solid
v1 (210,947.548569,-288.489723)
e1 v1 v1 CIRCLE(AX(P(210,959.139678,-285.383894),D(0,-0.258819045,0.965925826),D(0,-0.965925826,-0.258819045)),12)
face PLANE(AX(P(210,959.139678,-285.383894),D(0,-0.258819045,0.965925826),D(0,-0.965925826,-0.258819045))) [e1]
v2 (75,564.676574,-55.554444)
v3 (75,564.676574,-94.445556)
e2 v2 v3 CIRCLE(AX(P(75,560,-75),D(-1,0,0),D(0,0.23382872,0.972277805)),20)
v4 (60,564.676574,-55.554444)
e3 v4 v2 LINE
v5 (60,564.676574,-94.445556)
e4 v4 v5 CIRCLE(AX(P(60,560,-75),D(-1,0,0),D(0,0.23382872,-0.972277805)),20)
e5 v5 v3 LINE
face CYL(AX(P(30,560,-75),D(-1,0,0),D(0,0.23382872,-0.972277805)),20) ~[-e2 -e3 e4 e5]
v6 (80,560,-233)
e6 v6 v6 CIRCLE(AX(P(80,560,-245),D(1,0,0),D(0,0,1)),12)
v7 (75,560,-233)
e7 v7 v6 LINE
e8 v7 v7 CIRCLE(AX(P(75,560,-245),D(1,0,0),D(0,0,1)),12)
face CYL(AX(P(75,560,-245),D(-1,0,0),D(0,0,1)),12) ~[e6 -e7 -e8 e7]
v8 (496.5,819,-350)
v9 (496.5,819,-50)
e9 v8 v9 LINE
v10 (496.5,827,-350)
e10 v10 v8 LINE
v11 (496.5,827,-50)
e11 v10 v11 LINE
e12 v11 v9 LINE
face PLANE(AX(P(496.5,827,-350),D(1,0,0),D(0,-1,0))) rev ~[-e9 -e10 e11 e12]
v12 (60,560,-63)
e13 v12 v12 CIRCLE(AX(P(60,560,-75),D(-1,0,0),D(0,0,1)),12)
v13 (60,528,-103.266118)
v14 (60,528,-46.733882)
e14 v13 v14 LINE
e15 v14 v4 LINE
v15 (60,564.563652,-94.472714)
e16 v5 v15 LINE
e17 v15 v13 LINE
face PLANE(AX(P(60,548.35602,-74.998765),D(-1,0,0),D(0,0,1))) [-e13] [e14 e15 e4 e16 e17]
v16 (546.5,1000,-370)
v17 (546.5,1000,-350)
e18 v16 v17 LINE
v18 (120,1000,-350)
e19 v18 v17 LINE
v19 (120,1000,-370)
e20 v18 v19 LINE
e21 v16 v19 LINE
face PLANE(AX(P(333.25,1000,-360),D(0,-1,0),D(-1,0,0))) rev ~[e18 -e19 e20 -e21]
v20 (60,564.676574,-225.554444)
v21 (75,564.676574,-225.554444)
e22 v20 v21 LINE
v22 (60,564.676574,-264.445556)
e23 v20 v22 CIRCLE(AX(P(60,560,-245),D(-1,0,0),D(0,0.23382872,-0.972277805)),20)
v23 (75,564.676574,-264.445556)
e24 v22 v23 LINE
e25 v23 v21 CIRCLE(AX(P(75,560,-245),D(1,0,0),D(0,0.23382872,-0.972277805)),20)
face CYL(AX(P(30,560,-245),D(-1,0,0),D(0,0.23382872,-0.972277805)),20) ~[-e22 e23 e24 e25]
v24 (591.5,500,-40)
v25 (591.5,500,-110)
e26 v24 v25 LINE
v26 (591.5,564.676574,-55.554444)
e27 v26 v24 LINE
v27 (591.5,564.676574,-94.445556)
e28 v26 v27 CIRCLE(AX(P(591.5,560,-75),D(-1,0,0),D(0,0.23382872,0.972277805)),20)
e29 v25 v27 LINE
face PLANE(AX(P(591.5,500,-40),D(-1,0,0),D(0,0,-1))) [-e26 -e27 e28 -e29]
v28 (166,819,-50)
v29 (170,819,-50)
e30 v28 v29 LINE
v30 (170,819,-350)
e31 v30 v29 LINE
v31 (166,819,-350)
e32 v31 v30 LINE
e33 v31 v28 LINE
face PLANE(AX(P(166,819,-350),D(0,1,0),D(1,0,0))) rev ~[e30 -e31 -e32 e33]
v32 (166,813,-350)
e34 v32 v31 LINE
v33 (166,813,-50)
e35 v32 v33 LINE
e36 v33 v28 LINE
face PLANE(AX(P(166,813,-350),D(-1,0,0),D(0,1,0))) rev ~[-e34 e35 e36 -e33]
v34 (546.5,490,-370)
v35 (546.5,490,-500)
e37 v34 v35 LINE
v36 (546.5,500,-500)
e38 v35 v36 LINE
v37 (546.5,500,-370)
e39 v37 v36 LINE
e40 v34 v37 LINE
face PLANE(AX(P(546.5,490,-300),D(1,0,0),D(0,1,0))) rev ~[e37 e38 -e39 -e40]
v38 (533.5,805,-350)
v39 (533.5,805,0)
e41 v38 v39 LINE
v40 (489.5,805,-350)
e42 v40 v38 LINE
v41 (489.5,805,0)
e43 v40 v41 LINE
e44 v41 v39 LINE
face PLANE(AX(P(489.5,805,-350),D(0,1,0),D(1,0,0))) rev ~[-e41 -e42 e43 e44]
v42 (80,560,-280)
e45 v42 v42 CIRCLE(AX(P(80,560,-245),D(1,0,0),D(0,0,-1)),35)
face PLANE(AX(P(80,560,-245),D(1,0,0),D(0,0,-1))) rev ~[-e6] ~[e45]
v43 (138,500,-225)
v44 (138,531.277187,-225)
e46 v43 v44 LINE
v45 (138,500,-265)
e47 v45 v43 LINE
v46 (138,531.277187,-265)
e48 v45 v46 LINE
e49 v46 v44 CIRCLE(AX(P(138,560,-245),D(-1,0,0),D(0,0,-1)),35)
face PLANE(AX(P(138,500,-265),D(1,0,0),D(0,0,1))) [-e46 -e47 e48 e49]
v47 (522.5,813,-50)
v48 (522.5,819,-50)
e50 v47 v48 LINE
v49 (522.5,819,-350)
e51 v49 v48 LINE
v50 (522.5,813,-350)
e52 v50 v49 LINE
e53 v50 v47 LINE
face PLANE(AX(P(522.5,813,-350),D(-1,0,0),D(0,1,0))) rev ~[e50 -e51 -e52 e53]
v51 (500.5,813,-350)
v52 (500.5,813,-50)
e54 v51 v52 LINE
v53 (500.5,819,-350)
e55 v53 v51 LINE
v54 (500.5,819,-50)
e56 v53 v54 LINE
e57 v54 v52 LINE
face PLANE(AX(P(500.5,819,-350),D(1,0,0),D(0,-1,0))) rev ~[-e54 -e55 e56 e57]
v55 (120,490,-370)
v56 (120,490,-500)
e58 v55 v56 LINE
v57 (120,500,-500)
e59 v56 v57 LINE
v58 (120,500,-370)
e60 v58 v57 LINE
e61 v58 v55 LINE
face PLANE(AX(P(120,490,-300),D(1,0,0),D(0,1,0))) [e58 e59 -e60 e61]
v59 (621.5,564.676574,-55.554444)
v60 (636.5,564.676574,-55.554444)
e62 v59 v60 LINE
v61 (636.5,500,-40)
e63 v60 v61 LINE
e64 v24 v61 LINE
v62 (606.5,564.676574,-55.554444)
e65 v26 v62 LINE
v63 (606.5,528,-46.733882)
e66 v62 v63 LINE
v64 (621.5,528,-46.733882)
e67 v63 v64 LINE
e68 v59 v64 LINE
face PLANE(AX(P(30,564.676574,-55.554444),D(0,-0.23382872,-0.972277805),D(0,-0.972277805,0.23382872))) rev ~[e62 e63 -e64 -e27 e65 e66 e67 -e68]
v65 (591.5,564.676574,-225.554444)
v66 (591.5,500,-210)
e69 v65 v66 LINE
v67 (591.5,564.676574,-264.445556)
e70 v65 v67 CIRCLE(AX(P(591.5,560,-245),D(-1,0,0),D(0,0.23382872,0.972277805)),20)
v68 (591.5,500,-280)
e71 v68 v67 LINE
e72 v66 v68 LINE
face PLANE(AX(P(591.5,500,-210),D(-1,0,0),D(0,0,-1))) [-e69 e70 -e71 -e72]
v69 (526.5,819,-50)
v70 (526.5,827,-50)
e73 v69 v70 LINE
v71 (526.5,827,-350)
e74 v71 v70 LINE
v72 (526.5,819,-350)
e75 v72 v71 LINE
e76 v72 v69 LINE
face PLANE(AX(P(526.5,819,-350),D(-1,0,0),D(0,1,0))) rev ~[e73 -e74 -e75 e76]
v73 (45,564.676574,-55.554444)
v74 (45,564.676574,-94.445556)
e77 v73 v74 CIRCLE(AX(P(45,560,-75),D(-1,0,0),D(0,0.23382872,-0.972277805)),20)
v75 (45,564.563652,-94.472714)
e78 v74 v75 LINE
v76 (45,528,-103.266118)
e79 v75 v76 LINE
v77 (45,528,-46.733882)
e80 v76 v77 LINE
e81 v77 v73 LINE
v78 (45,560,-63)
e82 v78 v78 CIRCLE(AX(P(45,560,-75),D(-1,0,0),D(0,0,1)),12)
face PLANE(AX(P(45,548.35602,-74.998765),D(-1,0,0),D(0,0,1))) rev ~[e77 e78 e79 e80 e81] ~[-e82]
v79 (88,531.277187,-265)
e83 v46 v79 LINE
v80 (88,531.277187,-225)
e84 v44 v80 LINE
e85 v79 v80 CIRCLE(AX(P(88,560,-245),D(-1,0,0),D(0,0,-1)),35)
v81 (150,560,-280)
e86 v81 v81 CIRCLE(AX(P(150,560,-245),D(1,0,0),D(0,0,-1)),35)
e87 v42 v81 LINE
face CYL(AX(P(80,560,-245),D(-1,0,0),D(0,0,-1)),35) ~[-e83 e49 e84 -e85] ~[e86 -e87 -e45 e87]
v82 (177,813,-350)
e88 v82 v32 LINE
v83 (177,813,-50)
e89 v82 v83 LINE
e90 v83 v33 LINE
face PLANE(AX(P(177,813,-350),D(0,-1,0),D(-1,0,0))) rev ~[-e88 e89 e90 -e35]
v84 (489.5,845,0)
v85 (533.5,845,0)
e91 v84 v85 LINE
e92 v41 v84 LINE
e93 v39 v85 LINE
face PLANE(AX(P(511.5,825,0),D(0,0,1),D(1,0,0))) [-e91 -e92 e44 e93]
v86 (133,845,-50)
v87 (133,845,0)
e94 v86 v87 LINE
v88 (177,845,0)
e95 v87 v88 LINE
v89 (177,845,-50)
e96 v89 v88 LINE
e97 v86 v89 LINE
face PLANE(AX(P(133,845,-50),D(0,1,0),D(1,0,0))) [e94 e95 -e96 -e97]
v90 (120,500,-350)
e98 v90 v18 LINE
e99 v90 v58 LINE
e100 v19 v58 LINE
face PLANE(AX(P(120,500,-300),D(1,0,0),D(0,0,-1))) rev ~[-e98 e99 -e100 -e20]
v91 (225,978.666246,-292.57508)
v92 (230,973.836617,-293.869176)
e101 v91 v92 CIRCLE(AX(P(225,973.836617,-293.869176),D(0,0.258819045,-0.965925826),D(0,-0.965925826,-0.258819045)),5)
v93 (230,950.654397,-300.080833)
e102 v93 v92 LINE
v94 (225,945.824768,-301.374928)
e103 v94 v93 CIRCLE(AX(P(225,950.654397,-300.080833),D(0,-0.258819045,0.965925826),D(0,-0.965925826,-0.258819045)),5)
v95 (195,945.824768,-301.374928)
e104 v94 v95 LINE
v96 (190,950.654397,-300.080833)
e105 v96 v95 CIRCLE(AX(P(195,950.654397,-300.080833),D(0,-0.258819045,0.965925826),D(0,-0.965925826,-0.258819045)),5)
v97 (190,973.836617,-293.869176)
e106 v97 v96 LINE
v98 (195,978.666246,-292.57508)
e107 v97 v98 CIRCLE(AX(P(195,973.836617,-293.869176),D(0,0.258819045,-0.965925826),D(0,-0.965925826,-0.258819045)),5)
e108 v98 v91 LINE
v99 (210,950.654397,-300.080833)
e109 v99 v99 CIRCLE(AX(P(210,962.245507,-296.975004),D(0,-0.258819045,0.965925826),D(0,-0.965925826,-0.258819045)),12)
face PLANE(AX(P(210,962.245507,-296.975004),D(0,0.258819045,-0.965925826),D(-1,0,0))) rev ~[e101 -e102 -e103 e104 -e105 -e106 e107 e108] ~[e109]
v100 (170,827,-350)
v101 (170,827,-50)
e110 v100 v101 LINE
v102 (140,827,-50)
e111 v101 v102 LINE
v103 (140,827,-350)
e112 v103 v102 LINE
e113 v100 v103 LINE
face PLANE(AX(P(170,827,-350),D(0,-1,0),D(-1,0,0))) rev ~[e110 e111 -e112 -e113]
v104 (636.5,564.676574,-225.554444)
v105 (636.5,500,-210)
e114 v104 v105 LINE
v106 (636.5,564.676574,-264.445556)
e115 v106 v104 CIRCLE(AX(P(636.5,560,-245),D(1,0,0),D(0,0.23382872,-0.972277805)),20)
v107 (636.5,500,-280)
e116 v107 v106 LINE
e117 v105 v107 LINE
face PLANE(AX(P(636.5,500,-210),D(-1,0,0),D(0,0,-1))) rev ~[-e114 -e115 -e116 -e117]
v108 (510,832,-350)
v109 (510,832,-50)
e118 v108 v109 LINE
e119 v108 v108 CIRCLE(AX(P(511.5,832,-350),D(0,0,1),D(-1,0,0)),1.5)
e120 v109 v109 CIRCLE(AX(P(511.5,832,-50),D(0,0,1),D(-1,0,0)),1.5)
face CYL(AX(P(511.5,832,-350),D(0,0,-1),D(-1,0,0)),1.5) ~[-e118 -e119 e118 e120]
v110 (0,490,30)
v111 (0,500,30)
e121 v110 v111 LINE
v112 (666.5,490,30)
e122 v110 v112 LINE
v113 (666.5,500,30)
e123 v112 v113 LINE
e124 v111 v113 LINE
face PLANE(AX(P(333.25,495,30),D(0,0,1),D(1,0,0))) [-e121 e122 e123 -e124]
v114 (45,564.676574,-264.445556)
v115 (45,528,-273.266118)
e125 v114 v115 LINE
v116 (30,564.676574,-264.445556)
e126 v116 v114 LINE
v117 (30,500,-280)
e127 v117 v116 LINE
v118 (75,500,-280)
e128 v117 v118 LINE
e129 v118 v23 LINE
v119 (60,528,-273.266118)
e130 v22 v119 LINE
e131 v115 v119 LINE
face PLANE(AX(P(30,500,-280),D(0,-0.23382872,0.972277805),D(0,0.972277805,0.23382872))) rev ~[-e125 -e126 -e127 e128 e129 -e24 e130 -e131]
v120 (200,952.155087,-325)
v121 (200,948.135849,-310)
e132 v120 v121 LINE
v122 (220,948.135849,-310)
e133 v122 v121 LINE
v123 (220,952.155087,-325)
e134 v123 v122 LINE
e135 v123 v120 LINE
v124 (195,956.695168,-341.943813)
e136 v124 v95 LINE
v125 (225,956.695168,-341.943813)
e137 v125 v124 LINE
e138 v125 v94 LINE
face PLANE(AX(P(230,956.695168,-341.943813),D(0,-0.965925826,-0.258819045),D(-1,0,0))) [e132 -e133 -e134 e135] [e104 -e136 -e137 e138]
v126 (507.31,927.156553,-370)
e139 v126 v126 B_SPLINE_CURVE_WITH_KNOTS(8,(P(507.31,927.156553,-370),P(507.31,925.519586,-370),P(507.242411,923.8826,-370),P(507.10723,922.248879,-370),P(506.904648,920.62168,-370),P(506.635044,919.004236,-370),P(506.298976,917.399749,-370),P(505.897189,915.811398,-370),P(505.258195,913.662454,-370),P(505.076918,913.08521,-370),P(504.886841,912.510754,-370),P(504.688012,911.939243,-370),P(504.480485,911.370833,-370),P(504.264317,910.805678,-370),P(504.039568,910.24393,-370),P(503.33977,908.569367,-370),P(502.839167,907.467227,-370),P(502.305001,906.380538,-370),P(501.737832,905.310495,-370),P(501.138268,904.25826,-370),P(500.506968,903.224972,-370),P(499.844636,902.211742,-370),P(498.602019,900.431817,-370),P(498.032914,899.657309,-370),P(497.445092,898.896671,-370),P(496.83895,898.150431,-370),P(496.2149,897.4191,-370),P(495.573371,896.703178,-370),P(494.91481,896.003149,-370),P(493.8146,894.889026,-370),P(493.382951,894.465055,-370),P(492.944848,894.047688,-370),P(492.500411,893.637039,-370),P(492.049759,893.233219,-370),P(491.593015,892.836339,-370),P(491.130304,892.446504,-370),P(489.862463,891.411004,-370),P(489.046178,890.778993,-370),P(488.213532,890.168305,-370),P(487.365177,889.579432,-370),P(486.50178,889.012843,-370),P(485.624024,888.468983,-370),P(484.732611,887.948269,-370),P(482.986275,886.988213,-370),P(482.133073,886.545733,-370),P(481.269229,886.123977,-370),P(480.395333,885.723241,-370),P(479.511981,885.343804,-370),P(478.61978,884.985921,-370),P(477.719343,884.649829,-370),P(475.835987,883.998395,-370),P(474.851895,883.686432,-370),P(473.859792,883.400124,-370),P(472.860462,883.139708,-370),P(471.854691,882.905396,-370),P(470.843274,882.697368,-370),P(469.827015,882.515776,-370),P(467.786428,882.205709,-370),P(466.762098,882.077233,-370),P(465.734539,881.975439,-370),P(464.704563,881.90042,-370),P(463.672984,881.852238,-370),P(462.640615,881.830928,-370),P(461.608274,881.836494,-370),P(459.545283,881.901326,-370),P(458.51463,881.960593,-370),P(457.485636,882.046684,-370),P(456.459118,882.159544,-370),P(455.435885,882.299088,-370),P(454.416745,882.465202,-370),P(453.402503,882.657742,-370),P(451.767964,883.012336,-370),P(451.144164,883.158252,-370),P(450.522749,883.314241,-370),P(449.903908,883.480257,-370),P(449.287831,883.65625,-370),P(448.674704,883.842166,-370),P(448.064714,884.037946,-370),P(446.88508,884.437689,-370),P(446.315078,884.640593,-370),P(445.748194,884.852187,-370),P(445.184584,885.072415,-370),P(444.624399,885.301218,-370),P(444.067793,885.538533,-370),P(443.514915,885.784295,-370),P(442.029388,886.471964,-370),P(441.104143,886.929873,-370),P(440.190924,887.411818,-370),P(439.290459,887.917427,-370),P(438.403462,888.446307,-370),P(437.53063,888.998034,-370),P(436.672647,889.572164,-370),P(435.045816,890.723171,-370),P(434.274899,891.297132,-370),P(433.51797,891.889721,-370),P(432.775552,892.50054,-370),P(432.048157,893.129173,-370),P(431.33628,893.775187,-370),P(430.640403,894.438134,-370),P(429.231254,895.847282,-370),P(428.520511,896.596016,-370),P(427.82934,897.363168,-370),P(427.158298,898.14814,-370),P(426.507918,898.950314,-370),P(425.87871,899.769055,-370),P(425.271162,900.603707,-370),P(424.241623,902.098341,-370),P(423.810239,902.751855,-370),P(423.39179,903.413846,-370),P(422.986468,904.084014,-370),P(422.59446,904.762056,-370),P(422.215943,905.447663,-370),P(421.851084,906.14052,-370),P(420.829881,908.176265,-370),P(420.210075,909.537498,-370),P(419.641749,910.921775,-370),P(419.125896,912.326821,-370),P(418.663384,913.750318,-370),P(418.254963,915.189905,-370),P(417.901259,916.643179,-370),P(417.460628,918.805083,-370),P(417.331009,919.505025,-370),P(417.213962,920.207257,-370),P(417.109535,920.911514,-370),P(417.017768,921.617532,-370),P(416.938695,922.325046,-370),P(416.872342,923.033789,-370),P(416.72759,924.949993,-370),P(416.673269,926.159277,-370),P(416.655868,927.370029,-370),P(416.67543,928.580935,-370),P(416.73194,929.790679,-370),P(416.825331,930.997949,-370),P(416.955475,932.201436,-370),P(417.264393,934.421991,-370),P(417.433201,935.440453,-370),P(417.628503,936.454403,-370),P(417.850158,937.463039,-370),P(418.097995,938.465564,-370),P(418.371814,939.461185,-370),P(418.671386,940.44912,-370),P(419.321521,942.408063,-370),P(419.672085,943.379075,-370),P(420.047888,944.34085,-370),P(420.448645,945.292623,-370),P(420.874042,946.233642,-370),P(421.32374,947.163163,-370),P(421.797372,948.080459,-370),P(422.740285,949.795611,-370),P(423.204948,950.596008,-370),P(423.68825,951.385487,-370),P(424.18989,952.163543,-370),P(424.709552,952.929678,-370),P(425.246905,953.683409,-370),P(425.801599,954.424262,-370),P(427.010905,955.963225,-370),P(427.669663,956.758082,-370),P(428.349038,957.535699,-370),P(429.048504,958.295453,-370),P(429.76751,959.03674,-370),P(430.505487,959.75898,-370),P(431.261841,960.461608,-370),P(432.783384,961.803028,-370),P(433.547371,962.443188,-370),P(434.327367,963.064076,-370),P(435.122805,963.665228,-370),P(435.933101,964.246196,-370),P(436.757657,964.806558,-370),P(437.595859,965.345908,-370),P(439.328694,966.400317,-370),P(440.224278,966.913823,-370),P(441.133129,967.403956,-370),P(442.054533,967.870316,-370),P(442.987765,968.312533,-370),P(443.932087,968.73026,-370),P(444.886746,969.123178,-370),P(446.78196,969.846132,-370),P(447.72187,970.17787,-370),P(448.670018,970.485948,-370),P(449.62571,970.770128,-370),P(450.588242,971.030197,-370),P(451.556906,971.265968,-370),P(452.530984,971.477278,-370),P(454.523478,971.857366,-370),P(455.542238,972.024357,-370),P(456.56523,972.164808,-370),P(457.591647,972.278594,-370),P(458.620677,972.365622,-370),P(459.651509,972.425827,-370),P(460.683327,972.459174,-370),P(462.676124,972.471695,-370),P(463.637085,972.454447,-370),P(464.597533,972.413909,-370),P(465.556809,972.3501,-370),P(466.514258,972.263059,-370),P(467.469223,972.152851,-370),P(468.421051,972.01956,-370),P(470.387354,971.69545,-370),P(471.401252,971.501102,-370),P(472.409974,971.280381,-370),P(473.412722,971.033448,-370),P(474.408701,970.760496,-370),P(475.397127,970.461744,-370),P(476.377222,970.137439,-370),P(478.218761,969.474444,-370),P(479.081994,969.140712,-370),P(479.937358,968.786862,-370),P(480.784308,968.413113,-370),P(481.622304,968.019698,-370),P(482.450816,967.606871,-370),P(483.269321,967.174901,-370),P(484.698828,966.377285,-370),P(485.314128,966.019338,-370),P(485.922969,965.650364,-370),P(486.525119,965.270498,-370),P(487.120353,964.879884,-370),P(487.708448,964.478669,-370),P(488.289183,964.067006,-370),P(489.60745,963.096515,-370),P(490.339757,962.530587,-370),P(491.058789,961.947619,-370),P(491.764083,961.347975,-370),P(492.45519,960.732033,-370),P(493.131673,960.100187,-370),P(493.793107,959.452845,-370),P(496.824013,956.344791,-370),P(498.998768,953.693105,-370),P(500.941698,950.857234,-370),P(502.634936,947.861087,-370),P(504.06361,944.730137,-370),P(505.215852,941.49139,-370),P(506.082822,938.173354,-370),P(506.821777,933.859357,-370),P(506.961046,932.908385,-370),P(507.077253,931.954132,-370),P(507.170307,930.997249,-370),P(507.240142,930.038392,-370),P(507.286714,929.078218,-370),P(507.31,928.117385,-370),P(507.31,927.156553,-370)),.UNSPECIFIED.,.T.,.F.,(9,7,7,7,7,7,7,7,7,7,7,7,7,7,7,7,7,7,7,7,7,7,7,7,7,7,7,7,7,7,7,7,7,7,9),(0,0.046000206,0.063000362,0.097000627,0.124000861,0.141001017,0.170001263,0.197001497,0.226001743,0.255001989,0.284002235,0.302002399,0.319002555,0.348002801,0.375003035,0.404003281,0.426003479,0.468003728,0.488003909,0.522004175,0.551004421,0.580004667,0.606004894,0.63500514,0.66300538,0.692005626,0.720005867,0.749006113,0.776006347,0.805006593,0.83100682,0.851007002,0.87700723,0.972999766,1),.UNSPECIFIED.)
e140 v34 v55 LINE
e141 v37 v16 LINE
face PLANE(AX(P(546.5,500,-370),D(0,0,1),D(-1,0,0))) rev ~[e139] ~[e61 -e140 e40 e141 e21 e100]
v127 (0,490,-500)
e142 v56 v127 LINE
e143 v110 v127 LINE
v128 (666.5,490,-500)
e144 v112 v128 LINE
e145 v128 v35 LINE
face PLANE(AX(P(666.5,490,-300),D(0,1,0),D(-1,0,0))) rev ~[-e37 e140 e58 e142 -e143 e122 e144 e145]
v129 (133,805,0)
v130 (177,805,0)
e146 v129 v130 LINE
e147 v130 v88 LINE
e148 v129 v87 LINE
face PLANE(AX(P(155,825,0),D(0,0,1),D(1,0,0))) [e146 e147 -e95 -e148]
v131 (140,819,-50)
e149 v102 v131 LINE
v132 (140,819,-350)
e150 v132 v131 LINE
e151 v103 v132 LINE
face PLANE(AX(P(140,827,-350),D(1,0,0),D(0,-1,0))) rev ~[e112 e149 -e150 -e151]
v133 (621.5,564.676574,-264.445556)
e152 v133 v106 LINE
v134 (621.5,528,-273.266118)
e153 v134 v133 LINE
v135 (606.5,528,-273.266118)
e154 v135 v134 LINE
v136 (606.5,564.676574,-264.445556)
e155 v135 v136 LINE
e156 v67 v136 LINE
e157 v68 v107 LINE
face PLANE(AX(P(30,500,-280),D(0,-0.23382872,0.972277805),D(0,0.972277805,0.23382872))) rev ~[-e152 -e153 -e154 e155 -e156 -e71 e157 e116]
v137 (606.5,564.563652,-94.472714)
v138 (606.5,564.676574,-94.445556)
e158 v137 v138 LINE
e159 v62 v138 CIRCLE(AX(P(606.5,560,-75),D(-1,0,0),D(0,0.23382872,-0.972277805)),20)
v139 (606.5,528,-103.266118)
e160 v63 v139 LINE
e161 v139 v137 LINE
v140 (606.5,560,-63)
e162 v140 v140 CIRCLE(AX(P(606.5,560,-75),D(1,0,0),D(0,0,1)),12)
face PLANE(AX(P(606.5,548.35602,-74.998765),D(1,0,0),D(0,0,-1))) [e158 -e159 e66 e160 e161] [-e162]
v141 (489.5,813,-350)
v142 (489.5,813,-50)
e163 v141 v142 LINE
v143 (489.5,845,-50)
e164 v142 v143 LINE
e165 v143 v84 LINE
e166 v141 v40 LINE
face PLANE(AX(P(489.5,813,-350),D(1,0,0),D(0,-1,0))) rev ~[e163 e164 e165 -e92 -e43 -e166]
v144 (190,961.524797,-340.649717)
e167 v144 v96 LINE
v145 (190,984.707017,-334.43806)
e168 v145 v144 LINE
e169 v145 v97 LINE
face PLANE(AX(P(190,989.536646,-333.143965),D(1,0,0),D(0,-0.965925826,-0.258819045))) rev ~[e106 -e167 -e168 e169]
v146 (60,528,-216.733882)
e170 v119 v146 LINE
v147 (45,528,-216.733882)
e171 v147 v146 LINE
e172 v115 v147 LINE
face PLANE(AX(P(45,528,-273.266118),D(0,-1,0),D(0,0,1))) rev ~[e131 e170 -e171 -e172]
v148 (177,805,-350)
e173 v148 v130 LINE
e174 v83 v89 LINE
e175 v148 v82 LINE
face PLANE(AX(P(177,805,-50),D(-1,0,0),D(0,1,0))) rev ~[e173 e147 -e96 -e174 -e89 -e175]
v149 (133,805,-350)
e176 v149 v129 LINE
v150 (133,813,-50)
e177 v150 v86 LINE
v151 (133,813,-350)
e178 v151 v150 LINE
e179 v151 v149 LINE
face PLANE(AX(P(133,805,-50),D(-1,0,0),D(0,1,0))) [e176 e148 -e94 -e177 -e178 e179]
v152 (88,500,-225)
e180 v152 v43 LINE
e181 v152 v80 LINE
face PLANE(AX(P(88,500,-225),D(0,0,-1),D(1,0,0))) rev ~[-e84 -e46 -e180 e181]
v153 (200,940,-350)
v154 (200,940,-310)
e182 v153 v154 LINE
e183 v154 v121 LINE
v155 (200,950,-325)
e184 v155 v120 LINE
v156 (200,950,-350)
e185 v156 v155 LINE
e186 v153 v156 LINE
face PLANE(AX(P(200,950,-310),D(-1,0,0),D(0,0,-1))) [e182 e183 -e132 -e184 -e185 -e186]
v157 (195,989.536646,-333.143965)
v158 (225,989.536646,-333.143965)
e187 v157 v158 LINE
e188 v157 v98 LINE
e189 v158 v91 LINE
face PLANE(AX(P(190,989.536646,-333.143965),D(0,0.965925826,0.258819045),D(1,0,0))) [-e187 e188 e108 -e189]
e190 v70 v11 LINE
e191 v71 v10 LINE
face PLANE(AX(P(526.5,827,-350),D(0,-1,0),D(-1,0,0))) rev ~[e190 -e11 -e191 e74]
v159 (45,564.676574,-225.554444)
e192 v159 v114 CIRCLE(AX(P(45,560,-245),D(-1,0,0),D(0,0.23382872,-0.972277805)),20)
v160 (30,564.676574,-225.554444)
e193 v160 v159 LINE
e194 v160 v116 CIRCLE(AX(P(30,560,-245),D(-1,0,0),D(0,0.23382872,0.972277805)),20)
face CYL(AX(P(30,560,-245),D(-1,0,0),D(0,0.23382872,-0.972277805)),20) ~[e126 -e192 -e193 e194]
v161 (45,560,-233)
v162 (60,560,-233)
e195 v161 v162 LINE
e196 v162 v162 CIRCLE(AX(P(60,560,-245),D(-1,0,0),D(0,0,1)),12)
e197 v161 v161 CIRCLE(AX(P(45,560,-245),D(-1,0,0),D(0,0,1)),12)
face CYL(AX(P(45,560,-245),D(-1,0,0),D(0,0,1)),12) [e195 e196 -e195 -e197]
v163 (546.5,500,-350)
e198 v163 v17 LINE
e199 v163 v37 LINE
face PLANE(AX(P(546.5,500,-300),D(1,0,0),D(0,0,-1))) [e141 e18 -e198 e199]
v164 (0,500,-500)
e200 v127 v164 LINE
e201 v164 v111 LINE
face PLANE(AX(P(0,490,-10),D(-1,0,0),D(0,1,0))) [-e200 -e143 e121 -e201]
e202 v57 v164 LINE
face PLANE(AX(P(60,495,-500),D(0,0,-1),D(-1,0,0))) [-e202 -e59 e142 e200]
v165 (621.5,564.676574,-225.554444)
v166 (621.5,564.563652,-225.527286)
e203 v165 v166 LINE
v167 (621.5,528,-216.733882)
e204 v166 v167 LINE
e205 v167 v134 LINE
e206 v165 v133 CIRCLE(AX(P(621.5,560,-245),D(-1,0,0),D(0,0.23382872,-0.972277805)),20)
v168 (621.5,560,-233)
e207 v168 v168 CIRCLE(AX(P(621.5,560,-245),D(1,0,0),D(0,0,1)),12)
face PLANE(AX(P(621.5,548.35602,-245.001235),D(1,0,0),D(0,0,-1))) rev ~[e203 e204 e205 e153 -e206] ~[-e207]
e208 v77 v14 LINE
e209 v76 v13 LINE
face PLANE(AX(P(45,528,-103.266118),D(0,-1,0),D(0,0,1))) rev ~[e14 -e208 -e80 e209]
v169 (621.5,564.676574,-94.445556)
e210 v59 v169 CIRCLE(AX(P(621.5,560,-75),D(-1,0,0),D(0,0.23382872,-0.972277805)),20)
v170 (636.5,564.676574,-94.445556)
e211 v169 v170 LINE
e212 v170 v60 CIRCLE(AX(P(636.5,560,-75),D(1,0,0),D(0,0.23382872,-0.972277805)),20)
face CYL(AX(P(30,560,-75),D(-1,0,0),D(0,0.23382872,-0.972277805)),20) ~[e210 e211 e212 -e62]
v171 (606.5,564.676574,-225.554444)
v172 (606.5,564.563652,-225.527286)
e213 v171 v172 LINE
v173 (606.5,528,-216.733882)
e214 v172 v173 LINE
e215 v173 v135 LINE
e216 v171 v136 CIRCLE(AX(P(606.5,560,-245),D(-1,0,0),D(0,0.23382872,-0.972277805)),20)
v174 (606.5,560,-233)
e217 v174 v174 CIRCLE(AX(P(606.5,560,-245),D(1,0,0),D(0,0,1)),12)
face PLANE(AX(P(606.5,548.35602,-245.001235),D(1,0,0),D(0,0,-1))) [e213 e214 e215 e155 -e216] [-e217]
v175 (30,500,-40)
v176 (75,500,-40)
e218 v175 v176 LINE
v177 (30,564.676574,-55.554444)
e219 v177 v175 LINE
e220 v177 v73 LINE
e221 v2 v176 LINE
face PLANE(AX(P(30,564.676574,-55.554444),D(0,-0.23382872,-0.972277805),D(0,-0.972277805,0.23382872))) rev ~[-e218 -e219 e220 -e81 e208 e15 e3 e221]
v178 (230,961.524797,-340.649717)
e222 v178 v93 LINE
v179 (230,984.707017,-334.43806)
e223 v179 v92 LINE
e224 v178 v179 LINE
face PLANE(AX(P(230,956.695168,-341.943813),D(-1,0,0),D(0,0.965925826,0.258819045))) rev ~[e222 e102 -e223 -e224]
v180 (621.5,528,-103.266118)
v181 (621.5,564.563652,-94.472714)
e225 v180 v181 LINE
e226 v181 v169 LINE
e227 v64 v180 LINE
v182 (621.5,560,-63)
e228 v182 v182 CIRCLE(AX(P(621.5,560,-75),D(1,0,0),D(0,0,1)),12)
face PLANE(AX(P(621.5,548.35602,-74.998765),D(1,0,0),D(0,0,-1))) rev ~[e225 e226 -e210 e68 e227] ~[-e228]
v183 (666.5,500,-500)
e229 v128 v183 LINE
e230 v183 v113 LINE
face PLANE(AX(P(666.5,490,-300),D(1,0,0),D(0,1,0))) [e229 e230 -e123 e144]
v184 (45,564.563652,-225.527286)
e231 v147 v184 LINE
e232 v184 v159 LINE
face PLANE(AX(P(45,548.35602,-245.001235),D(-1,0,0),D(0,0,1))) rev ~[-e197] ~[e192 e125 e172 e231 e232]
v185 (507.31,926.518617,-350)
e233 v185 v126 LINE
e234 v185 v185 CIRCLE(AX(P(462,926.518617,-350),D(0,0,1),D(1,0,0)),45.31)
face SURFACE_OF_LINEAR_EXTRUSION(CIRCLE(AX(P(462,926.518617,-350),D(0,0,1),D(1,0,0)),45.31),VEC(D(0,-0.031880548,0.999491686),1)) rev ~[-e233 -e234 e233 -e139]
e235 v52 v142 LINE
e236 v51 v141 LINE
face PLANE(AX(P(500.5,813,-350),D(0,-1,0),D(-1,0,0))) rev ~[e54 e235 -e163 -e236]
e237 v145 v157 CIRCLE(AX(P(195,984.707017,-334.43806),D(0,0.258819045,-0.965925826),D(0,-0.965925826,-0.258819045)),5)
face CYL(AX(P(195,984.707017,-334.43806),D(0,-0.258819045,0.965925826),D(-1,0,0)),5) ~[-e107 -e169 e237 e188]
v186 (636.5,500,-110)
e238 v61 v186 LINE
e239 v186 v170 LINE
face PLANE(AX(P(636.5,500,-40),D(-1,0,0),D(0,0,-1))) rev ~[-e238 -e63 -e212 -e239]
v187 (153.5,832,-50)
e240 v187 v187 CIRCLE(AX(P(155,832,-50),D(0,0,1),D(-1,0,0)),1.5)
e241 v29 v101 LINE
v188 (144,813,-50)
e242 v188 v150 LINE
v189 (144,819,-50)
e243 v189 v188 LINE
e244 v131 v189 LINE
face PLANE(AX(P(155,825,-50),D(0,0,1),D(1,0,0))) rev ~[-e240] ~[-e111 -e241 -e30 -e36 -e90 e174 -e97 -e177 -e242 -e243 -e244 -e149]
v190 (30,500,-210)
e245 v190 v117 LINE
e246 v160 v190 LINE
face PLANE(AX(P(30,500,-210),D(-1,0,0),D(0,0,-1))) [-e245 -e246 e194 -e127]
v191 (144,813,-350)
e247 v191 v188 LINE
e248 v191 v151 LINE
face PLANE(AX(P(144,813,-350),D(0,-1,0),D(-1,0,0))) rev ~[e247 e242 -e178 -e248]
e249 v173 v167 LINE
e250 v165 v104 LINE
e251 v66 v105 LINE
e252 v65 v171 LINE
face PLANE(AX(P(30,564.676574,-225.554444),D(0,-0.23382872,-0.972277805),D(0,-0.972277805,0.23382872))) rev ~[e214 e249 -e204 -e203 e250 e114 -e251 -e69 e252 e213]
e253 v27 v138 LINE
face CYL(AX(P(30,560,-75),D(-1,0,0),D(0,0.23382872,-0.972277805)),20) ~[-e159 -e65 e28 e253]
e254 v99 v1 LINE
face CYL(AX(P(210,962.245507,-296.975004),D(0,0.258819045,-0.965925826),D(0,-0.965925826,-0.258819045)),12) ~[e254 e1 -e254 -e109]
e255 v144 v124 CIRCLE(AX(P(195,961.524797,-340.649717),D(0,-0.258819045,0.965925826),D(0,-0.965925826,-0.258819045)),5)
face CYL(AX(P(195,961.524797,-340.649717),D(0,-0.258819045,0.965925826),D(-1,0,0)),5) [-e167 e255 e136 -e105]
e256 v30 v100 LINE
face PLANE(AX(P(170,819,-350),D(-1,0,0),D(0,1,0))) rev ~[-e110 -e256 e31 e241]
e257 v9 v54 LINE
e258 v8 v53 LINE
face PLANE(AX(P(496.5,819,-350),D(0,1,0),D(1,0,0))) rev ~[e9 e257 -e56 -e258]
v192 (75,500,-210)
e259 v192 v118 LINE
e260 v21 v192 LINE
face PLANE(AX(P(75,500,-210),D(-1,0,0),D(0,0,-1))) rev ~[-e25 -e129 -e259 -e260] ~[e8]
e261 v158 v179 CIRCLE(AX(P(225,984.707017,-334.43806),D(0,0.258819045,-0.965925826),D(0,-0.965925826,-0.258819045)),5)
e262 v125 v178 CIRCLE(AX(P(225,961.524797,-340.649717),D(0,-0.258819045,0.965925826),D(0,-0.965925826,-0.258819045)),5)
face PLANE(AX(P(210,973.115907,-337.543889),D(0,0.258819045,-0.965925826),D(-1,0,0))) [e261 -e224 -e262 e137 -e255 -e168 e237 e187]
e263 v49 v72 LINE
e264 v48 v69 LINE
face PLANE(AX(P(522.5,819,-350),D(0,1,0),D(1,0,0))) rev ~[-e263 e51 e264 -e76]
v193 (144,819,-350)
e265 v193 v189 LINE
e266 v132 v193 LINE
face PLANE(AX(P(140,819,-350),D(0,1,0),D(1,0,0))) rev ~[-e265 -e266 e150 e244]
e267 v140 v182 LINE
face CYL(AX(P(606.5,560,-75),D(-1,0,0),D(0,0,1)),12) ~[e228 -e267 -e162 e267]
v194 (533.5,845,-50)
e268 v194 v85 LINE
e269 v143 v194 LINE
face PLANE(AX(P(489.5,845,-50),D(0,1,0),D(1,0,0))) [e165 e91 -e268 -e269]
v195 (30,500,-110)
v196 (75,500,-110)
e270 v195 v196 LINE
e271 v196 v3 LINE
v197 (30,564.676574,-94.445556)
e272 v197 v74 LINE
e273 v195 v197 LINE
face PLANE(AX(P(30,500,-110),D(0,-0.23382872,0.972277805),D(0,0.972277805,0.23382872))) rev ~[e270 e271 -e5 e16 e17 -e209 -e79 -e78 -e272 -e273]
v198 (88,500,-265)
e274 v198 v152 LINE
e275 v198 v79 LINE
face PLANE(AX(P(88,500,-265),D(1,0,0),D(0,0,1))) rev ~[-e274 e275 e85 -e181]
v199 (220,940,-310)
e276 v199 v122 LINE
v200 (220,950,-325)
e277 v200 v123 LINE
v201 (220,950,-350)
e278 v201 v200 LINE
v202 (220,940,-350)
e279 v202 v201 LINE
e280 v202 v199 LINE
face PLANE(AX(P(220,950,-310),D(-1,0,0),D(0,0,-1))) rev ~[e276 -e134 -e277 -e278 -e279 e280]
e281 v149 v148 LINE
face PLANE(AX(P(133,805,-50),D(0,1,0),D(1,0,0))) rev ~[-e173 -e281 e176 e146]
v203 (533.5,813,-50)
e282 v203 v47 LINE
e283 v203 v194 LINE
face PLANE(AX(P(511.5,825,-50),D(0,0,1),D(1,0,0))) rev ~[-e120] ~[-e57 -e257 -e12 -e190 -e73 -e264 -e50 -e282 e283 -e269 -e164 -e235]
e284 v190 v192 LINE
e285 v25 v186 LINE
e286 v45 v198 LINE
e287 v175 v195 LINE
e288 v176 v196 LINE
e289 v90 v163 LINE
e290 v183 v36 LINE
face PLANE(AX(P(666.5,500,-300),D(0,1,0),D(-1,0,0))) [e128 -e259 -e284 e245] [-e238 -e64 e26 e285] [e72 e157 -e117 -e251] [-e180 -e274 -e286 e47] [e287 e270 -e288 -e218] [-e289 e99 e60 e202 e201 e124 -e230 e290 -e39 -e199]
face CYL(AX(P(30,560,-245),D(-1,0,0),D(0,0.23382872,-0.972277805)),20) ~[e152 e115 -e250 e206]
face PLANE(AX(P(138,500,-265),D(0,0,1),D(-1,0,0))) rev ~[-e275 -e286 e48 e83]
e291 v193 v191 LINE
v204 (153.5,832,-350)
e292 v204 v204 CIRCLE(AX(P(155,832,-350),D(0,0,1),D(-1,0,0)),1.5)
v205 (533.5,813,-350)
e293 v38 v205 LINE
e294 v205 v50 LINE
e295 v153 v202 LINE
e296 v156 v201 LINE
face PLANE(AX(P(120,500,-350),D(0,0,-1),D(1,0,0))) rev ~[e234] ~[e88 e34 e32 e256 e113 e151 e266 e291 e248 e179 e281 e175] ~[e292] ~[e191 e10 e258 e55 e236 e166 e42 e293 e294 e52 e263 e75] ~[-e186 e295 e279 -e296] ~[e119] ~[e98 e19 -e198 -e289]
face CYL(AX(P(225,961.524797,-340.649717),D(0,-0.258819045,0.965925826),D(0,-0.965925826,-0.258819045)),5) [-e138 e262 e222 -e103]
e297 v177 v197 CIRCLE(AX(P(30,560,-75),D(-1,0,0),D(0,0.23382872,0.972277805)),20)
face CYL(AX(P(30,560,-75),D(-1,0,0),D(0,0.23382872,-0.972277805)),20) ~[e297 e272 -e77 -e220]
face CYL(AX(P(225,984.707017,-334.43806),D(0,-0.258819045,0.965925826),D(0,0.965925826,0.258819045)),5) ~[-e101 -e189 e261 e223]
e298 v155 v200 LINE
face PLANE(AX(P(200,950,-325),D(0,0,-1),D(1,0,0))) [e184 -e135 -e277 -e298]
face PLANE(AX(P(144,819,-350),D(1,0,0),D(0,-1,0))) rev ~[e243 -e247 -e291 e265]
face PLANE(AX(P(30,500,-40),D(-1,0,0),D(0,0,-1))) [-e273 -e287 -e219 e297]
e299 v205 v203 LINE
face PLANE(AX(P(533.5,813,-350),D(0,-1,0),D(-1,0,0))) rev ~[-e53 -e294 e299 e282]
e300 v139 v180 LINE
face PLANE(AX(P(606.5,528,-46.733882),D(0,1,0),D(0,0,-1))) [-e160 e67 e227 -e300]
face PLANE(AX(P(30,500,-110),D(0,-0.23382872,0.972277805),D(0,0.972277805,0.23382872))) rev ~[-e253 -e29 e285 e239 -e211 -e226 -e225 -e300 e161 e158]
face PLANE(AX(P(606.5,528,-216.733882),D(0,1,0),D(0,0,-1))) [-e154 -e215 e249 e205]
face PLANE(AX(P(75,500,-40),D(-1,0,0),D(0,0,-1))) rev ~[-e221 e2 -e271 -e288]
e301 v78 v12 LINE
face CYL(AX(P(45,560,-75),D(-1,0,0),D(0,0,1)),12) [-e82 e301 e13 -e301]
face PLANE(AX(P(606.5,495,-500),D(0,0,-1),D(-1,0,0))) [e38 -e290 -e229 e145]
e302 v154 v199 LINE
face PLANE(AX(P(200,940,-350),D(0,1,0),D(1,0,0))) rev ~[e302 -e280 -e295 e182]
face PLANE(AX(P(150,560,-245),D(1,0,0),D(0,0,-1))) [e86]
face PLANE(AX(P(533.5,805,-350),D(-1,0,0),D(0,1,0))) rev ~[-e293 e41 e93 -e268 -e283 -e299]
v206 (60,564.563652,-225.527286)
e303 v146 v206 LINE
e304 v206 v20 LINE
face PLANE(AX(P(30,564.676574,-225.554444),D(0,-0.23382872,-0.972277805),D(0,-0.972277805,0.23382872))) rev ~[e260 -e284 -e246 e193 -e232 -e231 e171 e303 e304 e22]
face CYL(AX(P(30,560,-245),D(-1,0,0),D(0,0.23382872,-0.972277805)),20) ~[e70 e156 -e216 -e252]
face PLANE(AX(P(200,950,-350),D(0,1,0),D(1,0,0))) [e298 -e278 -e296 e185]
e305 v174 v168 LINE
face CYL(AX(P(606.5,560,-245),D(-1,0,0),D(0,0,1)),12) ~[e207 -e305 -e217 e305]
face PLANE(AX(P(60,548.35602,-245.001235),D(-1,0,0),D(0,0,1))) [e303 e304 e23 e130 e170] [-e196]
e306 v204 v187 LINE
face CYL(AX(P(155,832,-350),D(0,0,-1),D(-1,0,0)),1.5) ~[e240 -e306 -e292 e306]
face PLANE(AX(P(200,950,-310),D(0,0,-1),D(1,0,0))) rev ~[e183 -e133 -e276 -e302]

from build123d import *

# Parameters (mm, degrees)
SKETCH_2_W            = 666.5
SKETCH_2_H            = 490
EXTRUDE_1_DEPTH       = 500
SKETCH_3_W            = 45
SKETCH_3_H            = 70
EXTRUDE_2_DEPTH       = 80
CUT_EXTRUDE_1_DEPTH   = 800
EXTRUDE_5_DEPTH       = 500
SKETCH_8_R            = 1.5
EXTRUDE_6_DEPTH       = 300
SKETCH_20_W           = 751.278853788
SKETCH_20_H           = 520
CUT_EXTRUDE_5_DEPTH   = 490
SKETCH_22_R           = 12
CUT_EXTRUDE_7_DEPTH   = 15
SKETCH_23_W           = 120
SKETCH_23_H           = 200
CUT_EXTRUDE_8_DEPTH   = 30
SKETCH_24_W           = 20
SKETCH_24_H           = 10
EXTRUDE_10_DEPTH      = 40
SKETCH_25_W           = 20
SKETCH_25_H           = 15
EXTRUDE_11_DEPTH      = 10
EXTRUDE_12_DEPTH      = 12
EXTRUDE_12_DEPTH_BACK = 30
FILLET_1_R            = 5
SKETCH_27_R           = 12
EXTRUDE_13_DEPTH      = 12
SKETCH_28_R           = 12
EXTRUDE_14_DEPTH      = 5
SKETCH_29_R           = 35
EXTRUDE_15_DEPTH      = 70
EXTRUDE_16_DEPTH      = 33
CUT_EXTRUDE_START     = -15
SKETCH_31_R           = 12
CUT_EXTRUDE_9_DEPTH   = 15
SKETCH_32_W           = 426.5
SKETCH_32_H           = 130
CUT_EXTRUDE_10_DEPTH  = 126
SKETCH_33_R           = 45.31
CUT_EXTRUDE_11_DEPTH  = 44
SKETCH_35_W           = 44
SKETCH_35_H           = 40
EXTRUDE_17_DEPTH      = 50
SKETCH_37_W           = 666.5
SKETCH_37_H           = 10
EXTRUDE_19_DEPTH      = 40
SKETCH_38_W           = 120
SKETCH_38_H           = 10
EXTRUDE_20_DEPTH      = 200


with BuildPart() as part:
    # 草图2 → 凸台-拉伸1 (new body)
    with BuildSketch(Plane(origin=(0, 0, 0), x_dir=(1, 0, 0), z_dir=(0, 1, 0))):
        with Locations((333.25, 255)):
            Rectangle(SKETCH_2_W, SKETCH_2_H)
    extrude(amount=EXTRUDE_1_DEPTH)

    # 草图3 → 凸台-拉伸2 (add)
    with BuildSketch(Plane(origin=(0, 500, 0), x_dir=(1, 0, 0), z_dir=(0, 1, 0))):
        with Locations((52.5, 75)):
            Rectangle(SKETCH_3_W, SKETCH_3_H)
        with Locations((52.5, 245)):
            Rectangle(SKETCH_3_W, SKETCH_3_H)
        with Locations((614, 245)):
            Rectangle(SKETCH_3_W, SKETCH_3_H)
        with Locations((614, 75)):
            Rectangle(SKETCH_3_W, SKETCH_3_H)
    extrude(amount=EXTRUDE_2_DEPTH)

    # 草图4 → 切除-拉伸1 (cut)
    with BuildSketch(Plane.ZY.offset(-30)):
        with BuildLine():
            Line((-280, 500), (-264.445556098, 564.676574391))
            ThreePointArc((-264.445556098, 564.676574391), (-245, 580), (-225.554443902, 564.676574391))
            Line((-225.554443902, 564.676574391), (-210, 500))
            Line((-210, 500), (-110, 500))
            Line((-110, 500), (-94.445556098, 564.676574391))
            ThreePointArc((-94.445556098, 564.676574391), (-75, 580), (-55.554443902, 564.676574391))
            Line((-55.554443902, 564.676574391), (-40, 500))
            Line((-40, 500), (-40, 590.908516605))
            Line((-40, 590.908516605), (-280, 590.908516605))
            Line((-280, 590.908516605), (-280, 580))
            Line((-280, 580), (-280, 500))
        make_face()
    extrude(amount=-CUT_EXTRUDE_1_DEPTH, mode=Mode.SUBTRACT)

    # 草图7 → 凸台-拉伸5 (add)
    with BuildSketch(Plane(origin=(0, 500, 0), x_dir=(1, 0, 0), z_dir=(0, 1, 0))):
        Polygon((476.5, 370), (546.5, 370), (546.5, 350), (476.5, 350), (120, 350), (120, 370), align=None)
    extrude(amount=EXTRUDE_5_DEPTH)

    # 草图8 → 凸台-拉伸6 (add)
    with BuildSketch(Plane.XY.offset(-350)):
        with Locations(Location((155, 832, 0), (0, 0, 180))):
            Circle(SKETCH_8_R)
        with Locations(Location((511.5, 832, 0), (0, 0, 180))):
            Circle(SKETCH_8_R)
        Polygon((177, 805), (177, 813), (166, 813), (166, 819), (170, 819), (170, 827), (140, 827), (140, 819), (144, 819), (144, 813), (133, 813), (133, 805), align=None)
        Polygon((500.5, 813), (489.5, 813), (489.5, 805), (533.5, 805), (533.5, 813), (522.5, 813), (522.5, 819), (526.5, 819), (526.5, 827), (496.5, 827), (496.5, 819), (500.5, 819), align=None)
    extrude(amount=EXTRUDE_6_DEPTH)

    # 草图20 → 切除-拉伸5 (cut)
    with BuildSketch(Plane.XZ):
        with Locations((375.639426894, -260)):
            Rectangle(SKETCH_20_W, SKETCH_20_H)
    extrude(amount=-CUT_EXTRUDE_5_DEPTH, mode=Mode.SUBTRACT)

    # 草图22 → 切除-拉伸7 (cut)
    # profile 1 of 2: a face of its own
    with BuildSketch(Plane.ZY.offset(-45)):
        with BuildLine():
            Line((-264.44592578, 564.676479403), (-273.266117859, 528))
            Line((-273.266117859, 528), (-216.733882141, 528))
            Line((-216.733882141, 528), (-225.52728646, 564.563651658))
            ThreePointArc((-225.52728646, 564.563651658), (-244.942017925, 580.000253177), (-264.44592578, 564.676479403))
        make_face()
        with Locations((-245, 560)):
            Circle(SKETCH_22_R, mode=Mode.SUBTRACT)
    # profile 2 of 2: a face of its own
    with BuildSketch(Plane.ZY.offset(-45)):
        with BuildLine():
            ThreePointArc((-55.55407422, 564.676479403), (-75.057982075, 580.000253177), (-94.47271354, 564.563651658))
            Line((-94.47271354, 564.563651658), (-103.266117859, 528))
            Line((-103.266117859, 528), (-46.733882141, 528))
            Line((-46.733882141, 528), (-55.55407422, 564.676479403))
        make_face()
        with Locations((-75, 560)):
            Circle(SKETCH_22_R, mode=Mode.SUBTRACT)
    extrude(amount=-CUT_EXTRUDE_7_DEPTH, mode=Mode.SUBTRACT)

    # 草图23 → 切除-拉伸8 (cut)
    with BuildSketch(Plane(origin=(0, 500, 0), x_dir=(1, 0, 0), z_dir=(0, 1, 0))):
        with Locations((606.5, 400)):
            Rectangle(SKETCH_23_W, SKETCH_23_H)
        with Locations((60, 400)):
            Rectangle(SKETCH_23_W, SKETCH_23_H)
    extrude(amount=-CUT_EXTRUDE_8_DEPTH, mode=Mode.SUBTRACT)

    # 草图24 → 凸台-拉伸10 (add)
    with BuildSketch(Plane.XY.offset(-350)):
        with Locations((210, 945)):
            Rectangle(SKETCH_24_W, SKETCH_24_H)
    extrude(amount=EXTRUDE_10_DEPTH)

    # 草图25 → 凸台-拉伸11 (add)
    with BuildSketch(Plane(origin=(0, 950, 0), x_dir=(1, 0, 0), z_dir=(0, 1, 0))):
        with Locations((210, 317.5)):
            Rectangle(SKETCH_25_W, SKETCH_25_H)
    extrude(amount=EXTRUDE_11_DEPTH)

    # 草图26 → 凸台-拉伸12 (add, two sides: drawn at the far end of the back side and taken through both)
    with BuildSketch(Plane(origin=(0, 141.807806183, -529.233937587), x_dir=(1, 0, 0), z_dir=(0, -0.25881904510252135, 0.9659258262890681)).offset(-EXTRUDE_12_DEPTH_BACK)):
        Polygon((190, 839.594999439), (190, 869.594999439), (230, 869.594999439), (230, 839.594999439), (230, 835.594999439), (190, 835.594999439), align=None)
    extrude(amount=EXTRUDE_12_DEPTH + EXTRUDE_12_DEPTH_BACK)

    # 圆角1
    fillet_1_edges = [part.edges().sort_by_distance(p)[0] for p in [
        (230, 951.259967865, -321.659370176),
        (190, 951.259967865, -321.659370176),
        (190, 984.101445959, -312.859522643),
        (230, 984.101445959, -312.859522643),
    ]]
    fillet(fillet_1_edges, radius=FILLET_1_R)

    # 草图27 → 凸台-拉伸13 (add)
    with BuildSketch(Plane(origin=(0, 138.701977642, -517.642827671), x_dir=(1, 0, 0), z_dir=(0, -0.25881904510252535, 0.9659258262890672))):
        with Locations(Location((210, 852.594999439, 0), (0, 0, 270))):
            Circle(SKETCH_27_R)
    extrude(amount=EXTRUDE_13_DEPTH)

    # 草图28 → 凸台-拉伸14 (add)
    with BuildSketch(Plane(origin=(75, 0, 0), x_dir=(0, 0, -1), z_dir=(1, 0, 0))):
        with Locations(Location((245, 560, 0), (0, 0, 180))):
            Circle(SKETCH_28_R)
    extrude(amount=EXTRUDE_14_DEPTH)

    # 草图29 → 凸台-拉伸15 (add)
    with BuildSketch(Plane(origin=(80, 0, 0), x_dir=(0, 0, -1), z_dir=(1, 0, 0))):
        with Locations((245, 560)):
            Circle(SKETCH_29_R)
    extrude(amount=EXTRUDE_15_DEPTH)

    # 草图30 → 凸台-拉伸16 (add)
    with BuildSketch(Plane(origin=(0, 500, 0), x_dir=(1, 0, 0), z_dir=(0, 1, 0))):
        Polygon((128, 265), (138, 265), (138, 225), (128, 225), (88, 225), (88, 233), (88, 257), (88, 265), align=None)
    extrude(amount=EXTRUDE_16_DEPTH)

    # 草图31 → 切除-拉伸9 (cut)
    # profile 1 of 2: a face of its own
    with BuildSketch(Plane(origin=(621.5, 0, 0), x_dir=(0, 0, -1), z_dir=(1, 0, 0)).offset(CUT_EXTRUDE_START)):
        with BuildLine():
            Line((55.55407422, 564.676479403), (46.733882141, 528))
            Line((46.733882141, 528), (103.266117859, 528))
            Line((103.266117859, 528), (94.47271354, 564.563651658))
            ThreePointArc((94.47271354, 564.563651658), (75.057982075, 580.000253177), (55.55407422, 564.676479403))
        make_face()
        with Locations(Location((75, 560, 0), (0, 0, 180))):
            Circle(SKETCH_31_R, mode=Mode.SUBTRACT)
    # profile 2 of 2: a face of its own
    with BuildSketch(Plane(origin=(621.5, 0, 0), x_dir=(0, 0, -1), z_dir=(1, 0, 0)).offset(CUT_EXTRUDE_START)):
        with BuildLine():
            ThreePointArc((264.44592578, 564.676479403), (244.942017925, 580.000253177), (225.52728646, 564.563651658))
            Line((225.52728646, 564.563651658), (216.733882141, 528))
            Line((216.733882141, 528), (273.266117859, 528))
            Line((273.266117859, 528), (264.44592578, 564.676479403))
        make_face()
        with Locations(Location((245, 560, 0), (0, 0, 180))):
            Circle(SKETCH_31_R, mode=Mode.SUBTRACT)
    extrude(amount=CUT_EXTRUDE_9_DEPTH, mode=Mode.SUBTRACT)

    # 草图32 → 切除-拉伸10 (cut)
    with BuildSketch(Plane(origin=(0, 500, 0), x_dir=(1, 0, 0), z_dir=(0, 1, 0))):
        with Locations((333.25, 435)):
            Rectangle(SKETCH_32_W, SKETCH_32_H)
    extrude(amount=-CUT_EXTRUDE_10_DEPTH, mode=Mode.SUBTRACT)

    # 草图33 → 切除-拉伸11 (cut, along a direction that is not the sketch's normal)
    with BuildSketch(Plane.XY.offset(-350)):
        with Locations((462, 926.518617387)):
            Circle(SKETCH_33_R)
    extrude(amount=-CUT_EXTRUDE_11_DEPTH, dir=(5.875812413124604e-15, -0.031880547720424424, 0.9994916861470363), mode=Mode.SUBTRACT)

    # 草图35 → 凸台-拉伸17 (add)
    with BuildSketch(Plane.XY.offset(-50)):
        with Locations((155, 825)):
            Rectangle(SKETCH_35_W, SKETCH_35_H)
        with Locations((511.5, 825)):
            Rectangle(SKETCH_35_W, SKETCH_35_H)
    extrude(amount=EXTRUDE_17_DEPTH)

    # 草图37 → 凸台-拉伸19 (add)
    with BuildSketch(Plane.XY.offset(-10)):
        with Locations((333.25, 495)):
            Rectangle(SKETCH_37_W, SKETCH_37_H)
    extrude(amount=EXTRUDE_19_DEPTH)

    # 草图38 → 凸台-拉伸20 (add)
    with BuildSketch(Plane(origin=(0, 0, -300), x_dir=(-1, 0, 0), z_dir=(0, 0, -1))):
        with Locations((-606.5, 495)):
            Rectangle(SKETCH_38_W, SKETCH_38_H)
        with Locations((-60, 495)):
            Rectangle(SKETCH_38_W, SKETCH_38_H)
    extrude(amount=EXTRUDE_20_DEPTH)


solid = part.part
